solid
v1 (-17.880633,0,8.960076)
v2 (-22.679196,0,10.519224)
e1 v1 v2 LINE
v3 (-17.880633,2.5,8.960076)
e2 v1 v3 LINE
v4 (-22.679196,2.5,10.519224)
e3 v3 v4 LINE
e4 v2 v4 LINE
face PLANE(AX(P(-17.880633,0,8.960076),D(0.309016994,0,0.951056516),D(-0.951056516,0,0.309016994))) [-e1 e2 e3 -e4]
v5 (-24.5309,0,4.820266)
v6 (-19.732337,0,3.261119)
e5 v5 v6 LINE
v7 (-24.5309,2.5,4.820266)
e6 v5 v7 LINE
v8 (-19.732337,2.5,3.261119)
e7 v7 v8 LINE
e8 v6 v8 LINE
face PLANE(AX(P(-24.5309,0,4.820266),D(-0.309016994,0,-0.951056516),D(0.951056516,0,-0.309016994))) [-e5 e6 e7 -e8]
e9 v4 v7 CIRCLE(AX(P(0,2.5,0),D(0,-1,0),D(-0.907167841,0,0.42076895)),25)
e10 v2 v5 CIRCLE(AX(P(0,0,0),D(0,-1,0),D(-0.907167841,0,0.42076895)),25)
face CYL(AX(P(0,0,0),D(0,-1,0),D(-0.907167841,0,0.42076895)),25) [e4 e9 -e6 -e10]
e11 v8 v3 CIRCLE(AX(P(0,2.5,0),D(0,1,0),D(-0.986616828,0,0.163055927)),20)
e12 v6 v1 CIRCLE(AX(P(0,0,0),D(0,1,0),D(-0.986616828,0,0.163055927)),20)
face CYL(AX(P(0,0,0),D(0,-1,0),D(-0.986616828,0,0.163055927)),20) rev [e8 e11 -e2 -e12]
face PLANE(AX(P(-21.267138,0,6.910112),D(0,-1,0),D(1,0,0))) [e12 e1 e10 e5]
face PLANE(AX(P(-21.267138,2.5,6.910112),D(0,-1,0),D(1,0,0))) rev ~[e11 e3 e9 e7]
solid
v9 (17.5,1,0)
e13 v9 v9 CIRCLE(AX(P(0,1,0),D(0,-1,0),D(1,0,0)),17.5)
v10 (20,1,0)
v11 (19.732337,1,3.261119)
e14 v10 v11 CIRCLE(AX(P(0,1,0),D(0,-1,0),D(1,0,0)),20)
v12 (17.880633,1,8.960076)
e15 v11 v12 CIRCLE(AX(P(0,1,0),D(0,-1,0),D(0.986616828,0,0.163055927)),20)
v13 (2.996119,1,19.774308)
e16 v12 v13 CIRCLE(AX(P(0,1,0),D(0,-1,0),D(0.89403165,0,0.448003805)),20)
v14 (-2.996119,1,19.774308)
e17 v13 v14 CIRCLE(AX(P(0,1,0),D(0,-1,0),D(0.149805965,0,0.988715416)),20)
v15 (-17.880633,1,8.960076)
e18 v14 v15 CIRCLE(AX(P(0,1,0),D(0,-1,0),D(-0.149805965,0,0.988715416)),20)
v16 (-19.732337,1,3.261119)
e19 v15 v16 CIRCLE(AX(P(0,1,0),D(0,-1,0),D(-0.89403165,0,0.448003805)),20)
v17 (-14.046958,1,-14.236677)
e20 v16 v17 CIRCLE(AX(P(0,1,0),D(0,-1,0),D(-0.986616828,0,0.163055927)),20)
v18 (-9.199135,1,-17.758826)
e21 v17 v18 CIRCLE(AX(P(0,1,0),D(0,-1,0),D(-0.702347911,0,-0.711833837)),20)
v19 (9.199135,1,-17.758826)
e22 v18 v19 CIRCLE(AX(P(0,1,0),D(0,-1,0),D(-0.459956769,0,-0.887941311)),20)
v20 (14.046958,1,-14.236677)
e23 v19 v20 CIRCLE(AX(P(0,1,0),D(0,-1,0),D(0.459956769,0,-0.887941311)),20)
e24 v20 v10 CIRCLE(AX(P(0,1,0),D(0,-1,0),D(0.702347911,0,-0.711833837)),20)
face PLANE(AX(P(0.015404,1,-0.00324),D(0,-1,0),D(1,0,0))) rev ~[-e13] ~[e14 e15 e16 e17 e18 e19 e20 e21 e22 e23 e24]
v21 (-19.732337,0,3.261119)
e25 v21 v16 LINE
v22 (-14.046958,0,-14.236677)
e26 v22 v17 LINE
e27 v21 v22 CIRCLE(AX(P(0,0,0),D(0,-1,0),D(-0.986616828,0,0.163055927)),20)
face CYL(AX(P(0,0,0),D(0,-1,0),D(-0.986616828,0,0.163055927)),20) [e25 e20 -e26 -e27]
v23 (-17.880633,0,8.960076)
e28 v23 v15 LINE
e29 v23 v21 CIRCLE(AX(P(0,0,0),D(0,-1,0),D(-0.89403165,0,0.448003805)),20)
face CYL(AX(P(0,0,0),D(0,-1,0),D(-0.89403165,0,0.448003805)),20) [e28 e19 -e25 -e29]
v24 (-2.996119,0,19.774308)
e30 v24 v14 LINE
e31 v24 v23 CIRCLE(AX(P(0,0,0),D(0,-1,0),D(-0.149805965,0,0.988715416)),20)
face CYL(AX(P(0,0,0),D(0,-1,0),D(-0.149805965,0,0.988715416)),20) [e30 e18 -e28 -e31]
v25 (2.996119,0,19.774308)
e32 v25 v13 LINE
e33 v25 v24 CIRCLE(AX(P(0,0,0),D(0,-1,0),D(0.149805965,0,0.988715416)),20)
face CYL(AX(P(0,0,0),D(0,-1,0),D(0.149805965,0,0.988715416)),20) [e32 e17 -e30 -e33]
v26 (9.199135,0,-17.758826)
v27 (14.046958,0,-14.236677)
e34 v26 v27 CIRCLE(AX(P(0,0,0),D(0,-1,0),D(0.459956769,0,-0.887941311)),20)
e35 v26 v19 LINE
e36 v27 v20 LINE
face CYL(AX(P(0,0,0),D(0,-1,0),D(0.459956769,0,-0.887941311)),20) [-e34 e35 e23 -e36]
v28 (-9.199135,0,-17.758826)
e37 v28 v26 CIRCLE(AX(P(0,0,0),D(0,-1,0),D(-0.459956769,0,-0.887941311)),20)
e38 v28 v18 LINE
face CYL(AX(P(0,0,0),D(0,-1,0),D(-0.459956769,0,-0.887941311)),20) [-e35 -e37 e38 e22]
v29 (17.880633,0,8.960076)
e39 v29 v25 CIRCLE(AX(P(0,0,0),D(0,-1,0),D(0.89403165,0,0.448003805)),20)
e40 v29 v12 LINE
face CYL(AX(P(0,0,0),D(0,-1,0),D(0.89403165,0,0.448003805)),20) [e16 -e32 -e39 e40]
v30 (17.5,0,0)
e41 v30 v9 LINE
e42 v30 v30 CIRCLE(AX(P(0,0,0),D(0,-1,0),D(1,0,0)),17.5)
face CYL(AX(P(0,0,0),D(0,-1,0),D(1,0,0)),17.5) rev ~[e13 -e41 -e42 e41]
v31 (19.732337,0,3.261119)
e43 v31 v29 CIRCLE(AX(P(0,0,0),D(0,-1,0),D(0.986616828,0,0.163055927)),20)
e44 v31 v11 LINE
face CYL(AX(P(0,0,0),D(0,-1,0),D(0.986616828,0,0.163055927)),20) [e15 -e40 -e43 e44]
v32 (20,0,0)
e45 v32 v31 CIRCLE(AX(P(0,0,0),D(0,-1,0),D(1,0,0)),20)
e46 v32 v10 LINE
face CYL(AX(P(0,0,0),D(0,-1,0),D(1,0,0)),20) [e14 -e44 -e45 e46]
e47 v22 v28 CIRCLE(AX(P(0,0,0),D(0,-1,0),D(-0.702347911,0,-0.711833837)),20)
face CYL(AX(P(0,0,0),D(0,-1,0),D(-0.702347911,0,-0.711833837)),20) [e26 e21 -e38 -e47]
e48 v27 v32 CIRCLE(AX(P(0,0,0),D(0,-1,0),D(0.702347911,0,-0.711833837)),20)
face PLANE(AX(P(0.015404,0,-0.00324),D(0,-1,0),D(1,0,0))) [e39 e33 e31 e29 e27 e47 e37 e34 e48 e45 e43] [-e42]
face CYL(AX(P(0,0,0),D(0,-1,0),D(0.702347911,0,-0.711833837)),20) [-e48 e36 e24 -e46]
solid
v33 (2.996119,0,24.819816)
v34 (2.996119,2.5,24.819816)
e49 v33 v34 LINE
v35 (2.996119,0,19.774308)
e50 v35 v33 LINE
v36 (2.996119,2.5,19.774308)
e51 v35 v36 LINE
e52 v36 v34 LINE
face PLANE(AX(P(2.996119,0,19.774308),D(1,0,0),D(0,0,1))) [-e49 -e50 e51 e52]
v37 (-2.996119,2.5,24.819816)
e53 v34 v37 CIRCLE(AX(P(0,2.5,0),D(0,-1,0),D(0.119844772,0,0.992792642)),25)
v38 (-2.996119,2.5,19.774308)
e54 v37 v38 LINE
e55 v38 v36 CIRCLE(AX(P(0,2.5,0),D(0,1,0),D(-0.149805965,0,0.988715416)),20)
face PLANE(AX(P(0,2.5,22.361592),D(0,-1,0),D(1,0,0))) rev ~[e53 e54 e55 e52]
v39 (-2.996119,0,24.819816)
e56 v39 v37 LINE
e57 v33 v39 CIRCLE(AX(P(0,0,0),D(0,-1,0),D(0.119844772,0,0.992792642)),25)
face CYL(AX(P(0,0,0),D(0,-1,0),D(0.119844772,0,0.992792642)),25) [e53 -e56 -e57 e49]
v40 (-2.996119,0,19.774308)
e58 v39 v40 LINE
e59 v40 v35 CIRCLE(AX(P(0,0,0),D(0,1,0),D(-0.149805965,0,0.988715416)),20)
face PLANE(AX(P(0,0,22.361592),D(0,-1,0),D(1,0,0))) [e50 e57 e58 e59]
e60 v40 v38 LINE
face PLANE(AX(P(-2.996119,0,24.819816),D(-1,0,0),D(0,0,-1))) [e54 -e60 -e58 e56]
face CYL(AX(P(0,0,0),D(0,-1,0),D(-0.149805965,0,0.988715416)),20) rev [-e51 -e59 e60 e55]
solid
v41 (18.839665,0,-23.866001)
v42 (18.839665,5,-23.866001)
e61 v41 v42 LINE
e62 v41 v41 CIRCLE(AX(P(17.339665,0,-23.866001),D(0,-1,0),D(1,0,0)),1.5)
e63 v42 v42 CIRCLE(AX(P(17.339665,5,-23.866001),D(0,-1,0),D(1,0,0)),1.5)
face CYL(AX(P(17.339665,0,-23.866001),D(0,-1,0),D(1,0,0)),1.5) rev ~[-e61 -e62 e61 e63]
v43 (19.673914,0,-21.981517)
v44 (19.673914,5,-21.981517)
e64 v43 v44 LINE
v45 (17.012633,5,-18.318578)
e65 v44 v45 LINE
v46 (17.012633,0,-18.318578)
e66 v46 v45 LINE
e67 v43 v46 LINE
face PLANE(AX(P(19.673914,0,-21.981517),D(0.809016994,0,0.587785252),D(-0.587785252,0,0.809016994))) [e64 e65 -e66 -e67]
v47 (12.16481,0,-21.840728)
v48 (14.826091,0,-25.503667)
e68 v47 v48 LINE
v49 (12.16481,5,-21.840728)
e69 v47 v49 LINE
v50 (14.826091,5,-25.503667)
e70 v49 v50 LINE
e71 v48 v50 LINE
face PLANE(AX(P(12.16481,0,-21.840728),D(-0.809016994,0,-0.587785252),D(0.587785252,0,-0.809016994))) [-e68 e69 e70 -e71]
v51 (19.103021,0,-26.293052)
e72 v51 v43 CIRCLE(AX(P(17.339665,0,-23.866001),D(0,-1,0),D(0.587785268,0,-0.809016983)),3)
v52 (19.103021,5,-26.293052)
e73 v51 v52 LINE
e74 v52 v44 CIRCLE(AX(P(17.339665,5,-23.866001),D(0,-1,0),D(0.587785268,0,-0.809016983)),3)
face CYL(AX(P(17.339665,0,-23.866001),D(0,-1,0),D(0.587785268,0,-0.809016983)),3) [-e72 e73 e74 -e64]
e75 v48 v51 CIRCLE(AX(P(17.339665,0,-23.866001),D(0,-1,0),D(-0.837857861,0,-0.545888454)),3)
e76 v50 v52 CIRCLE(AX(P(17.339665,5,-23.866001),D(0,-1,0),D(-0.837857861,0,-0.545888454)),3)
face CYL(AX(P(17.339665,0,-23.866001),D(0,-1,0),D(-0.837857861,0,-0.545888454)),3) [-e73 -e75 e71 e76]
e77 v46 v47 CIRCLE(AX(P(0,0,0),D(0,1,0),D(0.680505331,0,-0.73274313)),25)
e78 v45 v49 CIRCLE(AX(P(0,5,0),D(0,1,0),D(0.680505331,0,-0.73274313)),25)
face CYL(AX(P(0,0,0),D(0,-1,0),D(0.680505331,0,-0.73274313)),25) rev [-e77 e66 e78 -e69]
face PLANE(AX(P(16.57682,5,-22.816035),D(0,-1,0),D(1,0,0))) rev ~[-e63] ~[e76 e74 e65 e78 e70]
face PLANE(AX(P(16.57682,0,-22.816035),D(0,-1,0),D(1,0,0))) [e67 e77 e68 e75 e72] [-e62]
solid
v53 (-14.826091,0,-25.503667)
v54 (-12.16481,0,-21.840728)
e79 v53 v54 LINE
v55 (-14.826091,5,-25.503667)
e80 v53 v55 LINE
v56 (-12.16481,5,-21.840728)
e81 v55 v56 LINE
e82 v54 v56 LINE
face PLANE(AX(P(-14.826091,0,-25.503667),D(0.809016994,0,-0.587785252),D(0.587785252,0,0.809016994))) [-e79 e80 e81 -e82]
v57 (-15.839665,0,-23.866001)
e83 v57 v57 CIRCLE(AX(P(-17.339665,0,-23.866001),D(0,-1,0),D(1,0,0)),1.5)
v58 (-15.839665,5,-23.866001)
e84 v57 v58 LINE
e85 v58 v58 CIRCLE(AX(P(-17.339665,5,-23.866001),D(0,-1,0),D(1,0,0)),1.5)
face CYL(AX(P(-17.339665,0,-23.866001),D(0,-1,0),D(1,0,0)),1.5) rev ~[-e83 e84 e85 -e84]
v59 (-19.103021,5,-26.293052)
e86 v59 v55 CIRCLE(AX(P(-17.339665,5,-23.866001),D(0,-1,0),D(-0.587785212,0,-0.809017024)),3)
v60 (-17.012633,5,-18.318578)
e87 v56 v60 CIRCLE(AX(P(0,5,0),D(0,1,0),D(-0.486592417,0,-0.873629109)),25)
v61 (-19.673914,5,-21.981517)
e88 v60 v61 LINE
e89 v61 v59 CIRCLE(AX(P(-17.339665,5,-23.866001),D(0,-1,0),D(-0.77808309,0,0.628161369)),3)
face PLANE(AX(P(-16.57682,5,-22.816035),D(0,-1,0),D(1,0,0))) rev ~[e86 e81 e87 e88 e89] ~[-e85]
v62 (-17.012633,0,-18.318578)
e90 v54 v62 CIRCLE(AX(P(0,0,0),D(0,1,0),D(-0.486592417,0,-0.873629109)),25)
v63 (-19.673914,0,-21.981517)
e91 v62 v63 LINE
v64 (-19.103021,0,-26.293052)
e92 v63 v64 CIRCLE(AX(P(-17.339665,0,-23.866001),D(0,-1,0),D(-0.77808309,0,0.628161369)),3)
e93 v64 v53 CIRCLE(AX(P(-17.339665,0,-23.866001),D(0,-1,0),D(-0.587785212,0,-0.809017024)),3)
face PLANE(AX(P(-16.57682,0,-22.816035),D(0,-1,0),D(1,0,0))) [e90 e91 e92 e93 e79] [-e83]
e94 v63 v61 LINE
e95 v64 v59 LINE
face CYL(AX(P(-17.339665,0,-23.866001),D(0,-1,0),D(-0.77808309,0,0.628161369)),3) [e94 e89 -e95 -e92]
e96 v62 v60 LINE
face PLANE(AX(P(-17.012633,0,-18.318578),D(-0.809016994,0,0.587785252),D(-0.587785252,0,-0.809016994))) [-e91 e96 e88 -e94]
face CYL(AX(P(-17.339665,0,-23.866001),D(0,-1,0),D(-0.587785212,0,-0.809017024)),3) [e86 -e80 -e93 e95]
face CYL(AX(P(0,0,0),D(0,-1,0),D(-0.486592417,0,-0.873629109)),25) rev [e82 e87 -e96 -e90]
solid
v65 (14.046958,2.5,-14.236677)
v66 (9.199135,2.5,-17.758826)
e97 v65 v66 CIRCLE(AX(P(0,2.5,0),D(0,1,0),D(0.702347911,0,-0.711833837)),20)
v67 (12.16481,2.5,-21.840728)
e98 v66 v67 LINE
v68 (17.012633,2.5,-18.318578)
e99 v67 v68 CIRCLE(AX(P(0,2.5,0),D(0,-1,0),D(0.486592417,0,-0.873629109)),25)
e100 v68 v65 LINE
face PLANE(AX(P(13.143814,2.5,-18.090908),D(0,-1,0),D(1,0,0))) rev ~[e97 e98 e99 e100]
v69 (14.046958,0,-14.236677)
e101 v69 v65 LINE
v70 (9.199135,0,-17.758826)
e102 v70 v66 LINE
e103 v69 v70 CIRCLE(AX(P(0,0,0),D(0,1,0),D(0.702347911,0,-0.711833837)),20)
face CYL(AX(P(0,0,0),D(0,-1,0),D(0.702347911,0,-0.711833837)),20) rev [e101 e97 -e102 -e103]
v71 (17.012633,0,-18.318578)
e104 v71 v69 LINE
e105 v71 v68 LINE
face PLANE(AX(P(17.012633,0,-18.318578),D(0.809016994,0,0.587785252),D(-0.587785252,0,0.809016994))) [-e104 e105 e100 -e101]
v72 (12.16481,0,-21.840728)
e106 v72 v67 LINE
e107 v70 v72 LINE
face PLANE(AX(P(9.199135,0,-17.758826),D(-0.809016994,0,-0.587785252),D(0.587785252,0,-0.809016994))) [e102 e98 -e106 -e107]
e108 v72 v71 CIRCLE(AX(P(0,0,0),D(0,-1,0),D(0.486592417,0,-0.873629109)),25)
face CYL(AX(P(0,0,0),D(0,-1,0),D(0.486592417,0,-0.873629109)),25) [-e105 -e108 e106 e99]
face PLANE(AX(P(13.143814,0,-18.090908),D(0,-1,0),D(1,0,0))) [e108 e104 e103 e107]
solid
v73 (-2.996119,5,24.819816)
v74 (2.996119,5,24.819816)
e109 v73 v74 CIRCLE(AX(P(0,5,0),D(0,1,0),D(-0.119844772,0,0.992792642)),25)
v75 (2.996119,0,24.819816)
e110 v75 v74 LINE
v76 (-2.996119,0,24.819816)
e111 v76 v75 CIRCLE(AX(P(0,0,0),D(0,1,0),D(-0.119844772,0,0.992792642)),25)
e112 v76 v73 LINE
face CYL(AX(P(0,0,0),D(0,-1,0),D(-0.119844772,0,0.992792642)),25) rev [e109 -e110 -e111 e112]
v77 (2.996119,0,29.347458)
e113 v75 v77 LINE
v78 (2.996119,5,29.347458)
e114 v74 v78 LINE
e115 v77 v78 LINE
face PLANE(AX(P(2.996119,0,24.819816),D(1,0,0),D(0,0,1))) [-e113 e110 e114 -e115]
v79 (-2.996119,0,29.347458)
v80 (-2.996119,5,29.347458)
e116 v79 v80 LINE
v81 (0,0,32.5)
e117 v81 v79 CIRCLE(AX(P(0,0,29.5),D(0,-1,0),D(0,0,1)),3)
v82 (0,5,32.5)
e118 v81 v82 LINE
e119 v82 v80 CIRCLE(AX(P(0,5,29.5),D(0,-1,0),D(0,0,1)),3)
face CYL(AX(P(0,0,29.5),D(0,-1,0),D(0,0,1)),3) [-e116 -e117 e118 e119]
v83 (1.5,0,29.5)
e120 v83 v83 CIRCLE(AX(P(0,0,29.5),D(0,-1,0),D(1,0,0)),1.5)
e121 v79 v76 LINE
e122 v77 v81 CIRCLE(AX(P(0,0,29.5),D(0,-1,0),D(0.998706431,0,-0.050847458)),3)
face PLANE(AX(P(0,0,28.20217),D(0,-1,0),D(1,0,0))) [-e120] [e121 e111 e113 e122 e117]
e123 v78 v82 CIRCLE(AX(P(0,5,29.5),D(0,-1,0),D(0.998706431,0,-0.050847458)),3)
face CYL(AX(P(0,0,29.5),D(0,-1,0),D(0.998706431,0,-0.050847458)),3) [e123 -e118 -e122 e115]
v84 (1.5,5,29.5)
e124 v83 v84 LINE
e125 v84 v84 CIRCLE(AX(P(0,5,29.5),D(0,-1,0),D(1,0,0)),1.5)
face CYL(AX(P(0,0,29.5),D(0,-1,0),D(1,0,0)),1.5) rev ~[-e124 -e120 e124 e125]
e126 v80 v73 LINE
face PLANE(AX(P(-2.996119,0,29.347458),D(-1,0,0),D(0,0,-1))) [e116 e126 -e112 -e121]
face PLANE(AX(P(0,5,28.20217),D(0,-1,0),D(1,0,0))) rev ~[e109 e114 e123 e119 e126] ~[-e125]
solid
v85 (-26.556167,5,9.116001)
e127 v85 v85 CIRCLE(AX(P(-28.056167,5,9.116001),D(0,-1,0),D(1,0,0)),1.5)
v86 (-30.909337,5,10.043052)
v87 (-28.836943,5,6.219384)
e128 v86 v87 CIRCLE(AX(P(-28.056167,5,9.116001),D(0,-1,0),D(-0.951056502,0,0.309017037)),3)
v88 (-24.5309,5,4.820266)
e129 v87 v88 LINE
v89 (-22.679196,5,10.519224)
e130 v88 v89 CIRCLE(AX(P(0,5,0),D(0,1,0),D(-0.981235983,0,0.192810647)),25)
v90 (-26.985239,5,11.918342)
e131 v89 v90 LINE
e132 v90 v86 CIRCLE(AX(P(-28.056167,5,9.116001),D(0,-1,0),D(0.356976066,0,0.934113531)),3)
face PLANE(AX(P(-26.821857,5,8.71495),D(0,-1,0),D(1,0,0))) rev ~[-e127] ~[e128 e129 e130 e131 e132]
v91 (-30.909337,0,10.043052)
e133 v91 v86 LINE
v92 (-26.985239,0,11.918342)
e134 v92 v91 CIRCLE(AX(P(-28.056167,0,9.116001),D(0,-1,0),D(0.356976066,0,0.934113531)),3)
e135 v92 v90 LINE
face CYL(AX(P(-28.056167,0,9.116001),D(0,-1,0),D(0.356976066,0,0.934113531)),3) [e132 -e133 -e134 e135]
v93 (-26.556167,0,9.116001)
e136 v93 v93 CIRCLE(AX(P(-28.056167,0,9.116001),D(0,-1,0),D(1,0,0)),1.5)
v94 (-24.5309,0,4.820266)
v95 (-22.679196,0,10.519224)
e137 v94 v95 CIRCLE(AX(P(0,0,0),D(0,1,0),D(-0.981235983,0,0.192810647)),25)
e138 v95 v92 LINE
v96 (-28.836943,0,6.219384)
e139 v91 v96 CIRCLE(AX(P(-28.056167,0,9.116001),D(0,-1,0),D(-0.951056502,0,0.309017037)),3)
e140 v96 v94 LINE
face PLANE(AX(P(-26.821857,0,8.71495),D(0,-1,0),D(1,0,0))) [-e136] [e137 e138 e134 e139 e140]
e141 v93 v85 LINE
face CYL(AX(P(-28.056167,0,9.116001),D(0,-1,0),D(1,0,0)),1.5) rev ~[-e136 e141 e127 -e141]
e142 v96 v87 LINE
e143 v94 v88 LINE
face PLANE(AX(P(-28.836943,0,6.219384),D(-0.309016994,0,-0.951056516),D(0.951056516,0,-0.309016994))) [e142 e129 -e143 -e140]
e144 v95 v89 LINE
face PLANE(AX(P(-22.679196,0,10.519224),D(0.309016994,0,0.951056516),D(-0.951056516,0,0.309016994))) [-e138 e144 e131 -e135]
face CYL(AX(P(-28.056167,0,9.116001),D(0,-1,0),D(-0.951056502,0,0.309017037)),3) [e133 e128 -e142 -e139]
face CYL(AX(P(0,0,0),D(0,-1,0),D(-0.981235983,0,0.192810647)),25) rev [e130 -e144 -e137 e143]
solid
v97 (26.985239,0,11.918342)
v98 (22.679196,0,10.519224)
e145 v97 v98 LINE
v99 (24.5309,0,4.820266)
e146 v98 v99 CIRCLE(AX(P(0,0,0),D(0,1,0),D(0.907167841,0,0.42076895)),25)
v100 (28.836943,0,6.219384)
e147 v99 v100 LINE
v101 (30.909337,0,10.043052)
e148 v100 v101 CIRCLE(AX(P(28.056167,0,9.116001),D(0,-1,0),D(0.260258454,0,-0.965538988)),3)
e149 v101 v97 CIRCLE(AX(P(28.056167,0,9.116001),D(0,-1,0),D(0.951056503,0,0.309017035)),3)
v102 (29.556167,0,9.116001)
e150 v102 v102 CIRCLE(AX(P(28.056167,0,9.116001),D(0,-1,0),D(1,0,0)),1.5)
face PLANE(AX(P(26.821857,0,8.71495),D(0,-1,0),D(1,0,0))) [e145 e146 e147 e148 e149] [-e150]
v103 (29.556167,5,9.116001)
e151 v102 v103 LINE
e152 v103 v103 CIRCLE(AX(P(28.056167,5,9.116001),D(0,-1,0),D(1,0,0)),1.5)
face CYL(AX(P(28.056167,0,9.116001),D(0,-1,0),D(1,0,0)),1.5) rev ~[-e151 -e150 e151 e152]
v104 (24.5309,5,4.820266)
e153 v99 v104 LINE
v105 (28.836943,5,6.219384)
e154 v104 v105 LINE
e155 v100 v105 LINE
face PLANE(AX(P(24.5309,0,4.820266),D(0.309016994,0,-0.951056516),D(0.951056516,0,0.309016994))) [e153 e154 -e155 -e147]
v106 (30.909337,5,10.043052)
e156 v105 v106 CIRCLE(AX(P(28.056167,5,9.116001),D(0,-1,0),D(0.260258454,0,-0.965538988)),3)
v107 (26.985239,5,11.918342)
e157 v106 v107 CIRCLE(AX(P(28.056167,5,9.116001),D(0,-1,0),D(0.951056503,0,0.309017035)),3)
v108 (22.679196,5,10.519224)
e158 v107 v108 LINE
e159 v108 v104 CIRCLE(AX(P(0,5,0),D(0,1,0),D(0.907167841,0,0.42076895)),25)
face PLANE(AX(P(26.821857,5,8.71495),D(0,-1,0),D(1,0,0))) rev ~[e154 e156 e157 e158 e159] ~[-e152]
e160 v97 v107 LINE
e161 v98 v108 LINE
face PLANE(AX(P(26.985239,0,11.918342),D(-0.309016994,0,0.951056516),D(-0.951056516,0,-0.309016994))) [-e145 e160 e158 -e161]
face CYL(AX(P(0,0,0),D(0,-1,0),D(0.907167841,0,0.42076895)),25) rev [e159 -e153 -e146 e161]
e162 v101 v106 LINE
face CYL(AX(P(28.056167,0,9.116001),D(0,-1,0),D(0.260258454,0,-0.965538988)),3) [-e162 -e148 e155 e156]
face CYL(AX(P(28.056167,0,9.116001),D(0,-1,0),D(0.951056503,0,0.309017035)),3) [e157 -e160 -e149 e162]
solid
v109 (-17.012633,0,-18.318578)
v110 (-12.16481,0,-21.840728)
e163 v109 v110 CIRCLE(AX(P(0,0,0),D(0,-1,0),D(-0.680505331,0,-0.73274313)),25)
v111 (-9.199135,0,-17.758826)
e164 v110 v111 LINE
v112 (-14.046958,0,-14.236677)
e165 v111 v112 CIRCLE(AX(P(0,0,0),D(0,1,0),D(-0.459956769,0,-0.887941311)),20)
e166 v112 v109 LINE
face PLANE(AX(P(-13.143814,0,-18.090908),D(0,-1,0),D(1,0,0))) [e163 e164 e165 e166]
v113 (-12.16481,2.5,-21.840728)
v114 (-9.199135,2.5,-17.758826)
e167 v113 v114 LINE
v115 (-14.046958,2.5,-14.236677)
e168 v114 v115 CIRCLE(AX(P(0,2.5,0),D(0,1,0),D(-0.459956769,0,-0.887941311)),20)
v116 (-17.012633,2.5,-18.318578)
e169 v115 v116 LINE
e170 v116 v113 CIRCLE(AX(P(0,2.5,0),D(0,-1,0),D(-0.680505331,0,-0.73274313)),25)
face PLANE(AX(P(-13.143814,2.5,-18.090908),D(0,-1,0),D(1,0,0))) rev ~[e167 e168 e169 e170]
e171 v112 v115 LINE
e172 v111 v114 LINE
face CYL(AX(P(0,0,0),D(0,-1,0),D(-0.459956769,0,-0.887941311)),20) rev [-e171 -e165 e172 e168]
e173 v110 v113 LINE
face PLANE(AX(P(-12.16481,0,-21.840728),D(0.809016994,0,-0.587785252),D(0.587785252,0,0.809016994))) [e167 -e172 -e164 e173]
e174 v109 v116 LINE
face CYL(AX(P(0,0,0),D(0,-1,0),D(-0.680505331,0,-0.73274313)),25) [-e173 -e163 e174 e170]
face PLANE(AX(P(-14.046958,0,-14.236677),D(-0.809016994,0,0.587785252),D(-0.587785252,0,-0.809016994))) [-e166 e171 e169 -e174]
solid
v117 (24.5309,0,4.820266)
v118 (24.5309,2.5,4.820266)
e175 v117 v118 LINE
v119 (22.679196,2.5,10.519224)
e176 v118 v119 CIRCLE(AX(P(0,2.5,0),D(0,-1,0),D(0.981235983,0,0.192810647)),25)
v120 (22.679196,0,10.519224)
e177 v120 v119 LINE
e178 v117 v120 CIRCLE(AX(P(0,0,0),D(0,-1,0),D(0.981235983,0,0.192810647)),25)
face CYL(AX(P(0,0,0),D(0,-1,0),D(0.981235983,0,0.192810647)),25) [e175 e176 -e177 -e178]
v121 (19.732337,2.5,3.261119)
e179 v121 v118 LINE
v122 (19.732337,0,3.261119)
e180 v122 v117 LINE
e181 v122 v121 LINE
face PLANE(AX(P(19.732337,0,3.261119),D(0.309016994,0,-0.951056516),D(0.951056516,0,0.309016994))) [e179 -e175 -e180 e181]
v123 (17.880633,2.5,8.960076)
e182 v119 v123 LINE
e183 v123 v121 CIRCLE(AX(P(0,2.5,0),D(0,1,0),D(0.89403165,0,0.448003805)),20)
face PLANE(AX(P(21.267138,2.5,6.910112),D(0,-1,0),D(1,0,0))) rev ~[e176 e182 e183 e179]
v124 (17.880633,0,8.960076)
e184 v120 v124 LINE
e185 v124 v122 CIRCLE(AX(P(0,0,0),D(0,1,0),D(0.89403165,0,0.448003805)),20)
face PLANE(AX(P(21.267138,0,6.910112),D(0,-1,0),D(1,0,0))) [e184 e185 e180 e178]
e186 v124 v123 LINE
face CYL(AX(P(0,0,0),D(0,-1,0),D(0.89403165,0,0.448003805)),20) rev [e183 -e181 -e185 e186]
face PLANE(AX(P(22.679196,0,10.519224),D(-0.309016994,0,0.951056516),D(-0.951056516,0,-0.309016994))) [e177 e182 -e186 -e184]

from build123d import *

# Parameters (mm, degrees)
F0_R     = 1.5
F1_DEPTH = 5
F0_R_2   = 17.5
F2_DEPTH = 1
F3_DEPTH = 2.5


with BuildPart() as f1:
    # F0 (on Front) → F1 (new body)
    with BuildSketch(Plane.XZ):
        with BuildLine():
            ThreePointArc((-26.9852390339, 11.9183419267), (-29.3497180345, 11.8227939597), (-30.909336738, 10.0430524452))
            ThreePointArc((-30.909336738, 10.0430524452), (-30.6936846646, 7.6864903037), (-28.836942592, 6.2193843702))
            Line((-28.836942592, 6.2193843702), (-24.5308995747, 4.8202661811))
            ThreePointArc((-24.5308995747, 4.8202661811), (-23.7764129074, 7.7254248594), (-22.6791960166, 10.5192237376))
            Line((-22.6791960166, 10.5192237376), (-26.9852390339, 11.9183419267))
        make_face()
        with Locations((-28.0561672307, 9.1160013341)):
            Circle(F0_R, mode=Mode.SUBTRACT)
    extrude(amount=-F1_DEPTH)


with BuildPart() as f1b:
    # F0 (on Front) → F1, piece 2 (new body)
    with BuildSketch(Plane.XZ):
        with BuildLine():
            Line((2.9961192941, 24.8198160585), (2.9961192941, 29.3474576271))
            ThreePointArc((2.9961192941, 29.3474576271), (2.174583537, 31.5666848915), (0, 32.5))
            ThreePointArc((0, 32.5), (-2.174583537, 31.5666848915), (-2.9961192941, 29.3474576271))
            Line((-2.9961192941, 29.3474576271), (-2.9961192941, 24.8198160585))
            ThreePointArc((-2.9961192941, 24.8198160585), (0, 25), (2.9961192941, 24.8198160585))
        make_face()
        with Locations((0, 29.5)):
            Circle(F0_R, mode=Mode.SUBTRACT)
    extrude(amount=-F1_DEPTH)


with BuildPart() as f1c:
    # F0 (on Front) → F1, piece 3 (new body)
    with BuildSketch(Plane.XZ):
        with BuildLine():
            ThreePointArc((28.836942592, 6.2193843702), (30.6936846628, 7.6864903005), (30.9093367402, 10.0430524383))
            ThreePointArc((30.9093367402, 10.0430524383), (29.3497180378, 11.8227939581), (26.9852390339, 11.9183419267))
            Line((26.9852390339, 11.9183419267), (22.6791960166, 10.5192237376))
            ThreePointArc((22.6791960166, 10.5192237376), (23.7764129074, 7.7254248594), (24.5308995747, 4.8202661811))
            Line((24.5308995747, 4.8202661811), (28.836942592, 6.2193843702))
        make_face()
        with Locations((28.0561672307, 9.1160013341)):
            Circle(F0_R, mode=Mode.SUBTRACT)
    extrude(amount=-F1_DEPTH)


with BuildPart() as f1d:
    # F0 (on Front) → F1, piece 4 (new body)
    with BuildSketch(Plane.XZ):
        with BuildLine():
            ThreePointArc((14.8260913594, -25.5036666972), (16.7951568352, -26.8161726716), (19.1030207478, -26.2930522821))
            ThreePointArc((19.1030207478, -26.2930522821), (20.313706884, -24.2597963708), (19.6739142116, -21.9815172269))
            Line((19.6739142116, -21.9815172269), (17.0126332699, -18.3185782534))
            ThreePointArc((17.0126332699, -18.3185782534), (14.6946313073, -20.2254248594), (12.1648104177, -21.8407277237))
            Line((12.1648104177, -21.8407277237), (14.8260913594, -25.5036666972))
        make_face()
        with Locations((17.3396649426, -23.8660013341)):
            Circle(F0_R, mode=Mode.SUBTRACT)
    extrude(amount=-F1_DEPTH)


with BuildPart() as f1e:
    # F0 (on Front) → F1, piece 5 (new body)
    with BuildSketch(Plane.XZ):
        with BuildLine():
            ThreePointArc((-19.6739142116, -21.9815172269), (-20.3137068702, -24.259796475), (-19.1030205777, -26.2930524057))
            ThreePointArc((-19.1030205777, -26.2930524057), (-16.7951567318, -26.8161726525), (-14.8260913594, -25.5036666972))
            Line((-14.8260913594, -25.5036666972), (-12.1648104177, -21.8407277237))
            ThreePointArc((-12.1648104177, -21.8407277237), (-14.6946313073, -20.2254248594), (-17.0126332699, -18.3185782534))
            Line((-17.0126332699, -18.3185782534), (-19.6739142116, -21.9815172269))
        make_face()
        with Locations((-17.3396649426, -23.8660013341)):
            Circle(F0_R, mode=Mode.SUBTRACT)
    extrude(amount=-F1_DEPTH)


with BuildPart() as f2:
    # F0 (on Front) → F2 (new body)
    with BuildSketch(Plane.XZ):
        with BuildLine():
            ThreePointArc((17.8806329953, 8.9600760983), (11.7557050458, 16.1803398875), (2.9961192941, 19.7743083109))
            ThreePointArc((2.9961192941, 19.7743083109), (0, 20), (-2.9961192941, 19.7743083109))
            ThreePointArc((-2.9961192941, 19.7743083109), (-11.7557050458, 16.1803398875), (-17.8806329953, 8.9600760983))
            ThreePointArc((-17.8806329953, 8.9600760983), (-19.0211303259, 6.1803398875), (-19.7323365534, 3.2611185418))
            ThreePointArc((-19.7323365534, 3.2611185418), (-19.0211303259, -6.1803398875), (-14.0469582255, -14.2366767404))
            ThreePointArc((-14.0469582255, -14.2366767404), (-11.7557050458, -16.1803398875), (-9.1991353733, -17.7588262107))
            ThreePointArc((-9.1991353733, -17.7588262107), (0, -20), (9.1991353733, -17.7588262107))
            ThreePointArc((9.1991353733, -17.7588262107), (11.7557050458, -16.1803398875), (14.0469582255, -14.2366767404))
            ThreePointArc((14.0469582255, -14.2366767404), (18.4518178577, -7.7155957479), (20, 0))
            ThreePointArc((20, 0), (19.9329718189, 1.636042318), (19.7323365534, 3.2611185418))
            ThreePointArc((19.7323365534, 3.2611185418), (19.0211303259, 6.1803398875), (17.8806329953, 8.9600760983))
        make_face()
        Circle(F0_R_2, mode=Mode.SUBTRACT)
    extrude(amount=-F2_DEPTH)


with BuildPart() as f3:
    # F0 (on Front) → F3 (new body)
    with BuildSketch(Plane.XZ):
        with BuildLine():
            Line((-14.0469582255, -14.2366767404), (-17.0126332699, -18.3185782534))
            ThreePointArc((-17.0126332699, -18.3185782534), (-14.6946313073, -20.2254248594), (-12.1648104177, -21.8407277237))
            Line((-12.1648104177, -21.8407277237), (-9.1991353733, -17.7588262107))
            ThreePointArc((-9.1991353733, -17.7588262107), (-11.7557050458, -16.1803398875), (-14.0469582255, -14.2366767404))
        make_face()
    extrude(amount=-F3_DEPTH)


with BuildPart() as f3b:
    # F0 (on Front) → F3, piece 2 (new body)
    with BuildSketch(Plane.XZ):
        with BuildLine():
            Line((-17.8806329953, 8.9600760983), (-22.6791960166, 10.5192237376))
            ThreePointArc((-22.6791960166, 10.5192237376), (-23.7764129074, 7.7254248594), (-24.5308995747, 4.8202661811))
            Line((-24.5308995747, 4.8202661811), (-19.7323365534, 3.2611185418))
            ThreePointArc((-19.7323365534, 3.2611185418), (-19.0211303259, 6.1803398875), (-17.8806329953, 8.9600760983))
        make_face()
    extrude(amount=-F3_DEPTH)


with BuildPart() as f3c:
    # F0 (on Front) → F3, piece 3 (new body)
    with BuildSketch(Plane.XZ):
        with BuildLine():
            Line((2.9961192941, 19.7743083109), (2.9961192941, 24.8198160585))
            ThreePointArc((2.9961192941, 24.8198160585), (0, 25), (-2.9961192941, 24.8198160585))
            Line((-2.9961192941, 24.8198160585), (-2.9961192941, 19.7743083109))
            ThreePointArc((-2.9961192941, 19.7743083109), (0, 20), (2.9961192941, 19.7743083109))
        make_face()
    extrude(amount=-F3_DEPTH)


with BuildPart() as f3d:
    # F0 (on Front) → F3, piece 4 (new body)
    with BuildSketch(Plane.XZ):
        with BuildLine():
            ThreePointArc((24.5308995747, 4.8202661811), (23.7764129074, 7.7254248594), (22.6791960166, 10.5192237376))
            Line((22.6791960166, 10.5192237376), (17.8806329953, 8.9600760983))
            ThreePointArc((17.8806329953, 8.9600760983), (19.0211303259, 6.1803398875), (19.7323365534, 3.2611185418))
            Line((19.7323365534, 3.2611185418), (24.5308995747, 4.8202661811))
        make_face()
    extrude(amount=-F3_DEPTH)


with BuildPart() as f3e:
    # F0 (on Front) → F3, piece 5 (new body)
    with BuildSketch(Plane.XZ):
        with BuildLine():
            ThreePointArc((12.1648104177, -21.8407277237), (14.6946313073, -20.2254248594), (17.0126332699, -18.3185782534))
            Line((17.0126332699, -18.3185782534), (14.0469582255, -14.2366767404))
            ThreePointArc((14.0469582255, -14.2366767404), (11.7557050458, -16.1803398875), (9.1991353733, -17.7588262107))
            Line((9.1991353733, -17.7588262107), (12.1648104177, -21.8407277237))
        make_face()
    extrude(amount=-F3_DEPTH)


solid = Compound([f1.part, f1b.part, f1c.part, f1d.part, f1e.part, f2.part, f3.part, f3b.part, f3c.part, f3d.part, f3e.part])
